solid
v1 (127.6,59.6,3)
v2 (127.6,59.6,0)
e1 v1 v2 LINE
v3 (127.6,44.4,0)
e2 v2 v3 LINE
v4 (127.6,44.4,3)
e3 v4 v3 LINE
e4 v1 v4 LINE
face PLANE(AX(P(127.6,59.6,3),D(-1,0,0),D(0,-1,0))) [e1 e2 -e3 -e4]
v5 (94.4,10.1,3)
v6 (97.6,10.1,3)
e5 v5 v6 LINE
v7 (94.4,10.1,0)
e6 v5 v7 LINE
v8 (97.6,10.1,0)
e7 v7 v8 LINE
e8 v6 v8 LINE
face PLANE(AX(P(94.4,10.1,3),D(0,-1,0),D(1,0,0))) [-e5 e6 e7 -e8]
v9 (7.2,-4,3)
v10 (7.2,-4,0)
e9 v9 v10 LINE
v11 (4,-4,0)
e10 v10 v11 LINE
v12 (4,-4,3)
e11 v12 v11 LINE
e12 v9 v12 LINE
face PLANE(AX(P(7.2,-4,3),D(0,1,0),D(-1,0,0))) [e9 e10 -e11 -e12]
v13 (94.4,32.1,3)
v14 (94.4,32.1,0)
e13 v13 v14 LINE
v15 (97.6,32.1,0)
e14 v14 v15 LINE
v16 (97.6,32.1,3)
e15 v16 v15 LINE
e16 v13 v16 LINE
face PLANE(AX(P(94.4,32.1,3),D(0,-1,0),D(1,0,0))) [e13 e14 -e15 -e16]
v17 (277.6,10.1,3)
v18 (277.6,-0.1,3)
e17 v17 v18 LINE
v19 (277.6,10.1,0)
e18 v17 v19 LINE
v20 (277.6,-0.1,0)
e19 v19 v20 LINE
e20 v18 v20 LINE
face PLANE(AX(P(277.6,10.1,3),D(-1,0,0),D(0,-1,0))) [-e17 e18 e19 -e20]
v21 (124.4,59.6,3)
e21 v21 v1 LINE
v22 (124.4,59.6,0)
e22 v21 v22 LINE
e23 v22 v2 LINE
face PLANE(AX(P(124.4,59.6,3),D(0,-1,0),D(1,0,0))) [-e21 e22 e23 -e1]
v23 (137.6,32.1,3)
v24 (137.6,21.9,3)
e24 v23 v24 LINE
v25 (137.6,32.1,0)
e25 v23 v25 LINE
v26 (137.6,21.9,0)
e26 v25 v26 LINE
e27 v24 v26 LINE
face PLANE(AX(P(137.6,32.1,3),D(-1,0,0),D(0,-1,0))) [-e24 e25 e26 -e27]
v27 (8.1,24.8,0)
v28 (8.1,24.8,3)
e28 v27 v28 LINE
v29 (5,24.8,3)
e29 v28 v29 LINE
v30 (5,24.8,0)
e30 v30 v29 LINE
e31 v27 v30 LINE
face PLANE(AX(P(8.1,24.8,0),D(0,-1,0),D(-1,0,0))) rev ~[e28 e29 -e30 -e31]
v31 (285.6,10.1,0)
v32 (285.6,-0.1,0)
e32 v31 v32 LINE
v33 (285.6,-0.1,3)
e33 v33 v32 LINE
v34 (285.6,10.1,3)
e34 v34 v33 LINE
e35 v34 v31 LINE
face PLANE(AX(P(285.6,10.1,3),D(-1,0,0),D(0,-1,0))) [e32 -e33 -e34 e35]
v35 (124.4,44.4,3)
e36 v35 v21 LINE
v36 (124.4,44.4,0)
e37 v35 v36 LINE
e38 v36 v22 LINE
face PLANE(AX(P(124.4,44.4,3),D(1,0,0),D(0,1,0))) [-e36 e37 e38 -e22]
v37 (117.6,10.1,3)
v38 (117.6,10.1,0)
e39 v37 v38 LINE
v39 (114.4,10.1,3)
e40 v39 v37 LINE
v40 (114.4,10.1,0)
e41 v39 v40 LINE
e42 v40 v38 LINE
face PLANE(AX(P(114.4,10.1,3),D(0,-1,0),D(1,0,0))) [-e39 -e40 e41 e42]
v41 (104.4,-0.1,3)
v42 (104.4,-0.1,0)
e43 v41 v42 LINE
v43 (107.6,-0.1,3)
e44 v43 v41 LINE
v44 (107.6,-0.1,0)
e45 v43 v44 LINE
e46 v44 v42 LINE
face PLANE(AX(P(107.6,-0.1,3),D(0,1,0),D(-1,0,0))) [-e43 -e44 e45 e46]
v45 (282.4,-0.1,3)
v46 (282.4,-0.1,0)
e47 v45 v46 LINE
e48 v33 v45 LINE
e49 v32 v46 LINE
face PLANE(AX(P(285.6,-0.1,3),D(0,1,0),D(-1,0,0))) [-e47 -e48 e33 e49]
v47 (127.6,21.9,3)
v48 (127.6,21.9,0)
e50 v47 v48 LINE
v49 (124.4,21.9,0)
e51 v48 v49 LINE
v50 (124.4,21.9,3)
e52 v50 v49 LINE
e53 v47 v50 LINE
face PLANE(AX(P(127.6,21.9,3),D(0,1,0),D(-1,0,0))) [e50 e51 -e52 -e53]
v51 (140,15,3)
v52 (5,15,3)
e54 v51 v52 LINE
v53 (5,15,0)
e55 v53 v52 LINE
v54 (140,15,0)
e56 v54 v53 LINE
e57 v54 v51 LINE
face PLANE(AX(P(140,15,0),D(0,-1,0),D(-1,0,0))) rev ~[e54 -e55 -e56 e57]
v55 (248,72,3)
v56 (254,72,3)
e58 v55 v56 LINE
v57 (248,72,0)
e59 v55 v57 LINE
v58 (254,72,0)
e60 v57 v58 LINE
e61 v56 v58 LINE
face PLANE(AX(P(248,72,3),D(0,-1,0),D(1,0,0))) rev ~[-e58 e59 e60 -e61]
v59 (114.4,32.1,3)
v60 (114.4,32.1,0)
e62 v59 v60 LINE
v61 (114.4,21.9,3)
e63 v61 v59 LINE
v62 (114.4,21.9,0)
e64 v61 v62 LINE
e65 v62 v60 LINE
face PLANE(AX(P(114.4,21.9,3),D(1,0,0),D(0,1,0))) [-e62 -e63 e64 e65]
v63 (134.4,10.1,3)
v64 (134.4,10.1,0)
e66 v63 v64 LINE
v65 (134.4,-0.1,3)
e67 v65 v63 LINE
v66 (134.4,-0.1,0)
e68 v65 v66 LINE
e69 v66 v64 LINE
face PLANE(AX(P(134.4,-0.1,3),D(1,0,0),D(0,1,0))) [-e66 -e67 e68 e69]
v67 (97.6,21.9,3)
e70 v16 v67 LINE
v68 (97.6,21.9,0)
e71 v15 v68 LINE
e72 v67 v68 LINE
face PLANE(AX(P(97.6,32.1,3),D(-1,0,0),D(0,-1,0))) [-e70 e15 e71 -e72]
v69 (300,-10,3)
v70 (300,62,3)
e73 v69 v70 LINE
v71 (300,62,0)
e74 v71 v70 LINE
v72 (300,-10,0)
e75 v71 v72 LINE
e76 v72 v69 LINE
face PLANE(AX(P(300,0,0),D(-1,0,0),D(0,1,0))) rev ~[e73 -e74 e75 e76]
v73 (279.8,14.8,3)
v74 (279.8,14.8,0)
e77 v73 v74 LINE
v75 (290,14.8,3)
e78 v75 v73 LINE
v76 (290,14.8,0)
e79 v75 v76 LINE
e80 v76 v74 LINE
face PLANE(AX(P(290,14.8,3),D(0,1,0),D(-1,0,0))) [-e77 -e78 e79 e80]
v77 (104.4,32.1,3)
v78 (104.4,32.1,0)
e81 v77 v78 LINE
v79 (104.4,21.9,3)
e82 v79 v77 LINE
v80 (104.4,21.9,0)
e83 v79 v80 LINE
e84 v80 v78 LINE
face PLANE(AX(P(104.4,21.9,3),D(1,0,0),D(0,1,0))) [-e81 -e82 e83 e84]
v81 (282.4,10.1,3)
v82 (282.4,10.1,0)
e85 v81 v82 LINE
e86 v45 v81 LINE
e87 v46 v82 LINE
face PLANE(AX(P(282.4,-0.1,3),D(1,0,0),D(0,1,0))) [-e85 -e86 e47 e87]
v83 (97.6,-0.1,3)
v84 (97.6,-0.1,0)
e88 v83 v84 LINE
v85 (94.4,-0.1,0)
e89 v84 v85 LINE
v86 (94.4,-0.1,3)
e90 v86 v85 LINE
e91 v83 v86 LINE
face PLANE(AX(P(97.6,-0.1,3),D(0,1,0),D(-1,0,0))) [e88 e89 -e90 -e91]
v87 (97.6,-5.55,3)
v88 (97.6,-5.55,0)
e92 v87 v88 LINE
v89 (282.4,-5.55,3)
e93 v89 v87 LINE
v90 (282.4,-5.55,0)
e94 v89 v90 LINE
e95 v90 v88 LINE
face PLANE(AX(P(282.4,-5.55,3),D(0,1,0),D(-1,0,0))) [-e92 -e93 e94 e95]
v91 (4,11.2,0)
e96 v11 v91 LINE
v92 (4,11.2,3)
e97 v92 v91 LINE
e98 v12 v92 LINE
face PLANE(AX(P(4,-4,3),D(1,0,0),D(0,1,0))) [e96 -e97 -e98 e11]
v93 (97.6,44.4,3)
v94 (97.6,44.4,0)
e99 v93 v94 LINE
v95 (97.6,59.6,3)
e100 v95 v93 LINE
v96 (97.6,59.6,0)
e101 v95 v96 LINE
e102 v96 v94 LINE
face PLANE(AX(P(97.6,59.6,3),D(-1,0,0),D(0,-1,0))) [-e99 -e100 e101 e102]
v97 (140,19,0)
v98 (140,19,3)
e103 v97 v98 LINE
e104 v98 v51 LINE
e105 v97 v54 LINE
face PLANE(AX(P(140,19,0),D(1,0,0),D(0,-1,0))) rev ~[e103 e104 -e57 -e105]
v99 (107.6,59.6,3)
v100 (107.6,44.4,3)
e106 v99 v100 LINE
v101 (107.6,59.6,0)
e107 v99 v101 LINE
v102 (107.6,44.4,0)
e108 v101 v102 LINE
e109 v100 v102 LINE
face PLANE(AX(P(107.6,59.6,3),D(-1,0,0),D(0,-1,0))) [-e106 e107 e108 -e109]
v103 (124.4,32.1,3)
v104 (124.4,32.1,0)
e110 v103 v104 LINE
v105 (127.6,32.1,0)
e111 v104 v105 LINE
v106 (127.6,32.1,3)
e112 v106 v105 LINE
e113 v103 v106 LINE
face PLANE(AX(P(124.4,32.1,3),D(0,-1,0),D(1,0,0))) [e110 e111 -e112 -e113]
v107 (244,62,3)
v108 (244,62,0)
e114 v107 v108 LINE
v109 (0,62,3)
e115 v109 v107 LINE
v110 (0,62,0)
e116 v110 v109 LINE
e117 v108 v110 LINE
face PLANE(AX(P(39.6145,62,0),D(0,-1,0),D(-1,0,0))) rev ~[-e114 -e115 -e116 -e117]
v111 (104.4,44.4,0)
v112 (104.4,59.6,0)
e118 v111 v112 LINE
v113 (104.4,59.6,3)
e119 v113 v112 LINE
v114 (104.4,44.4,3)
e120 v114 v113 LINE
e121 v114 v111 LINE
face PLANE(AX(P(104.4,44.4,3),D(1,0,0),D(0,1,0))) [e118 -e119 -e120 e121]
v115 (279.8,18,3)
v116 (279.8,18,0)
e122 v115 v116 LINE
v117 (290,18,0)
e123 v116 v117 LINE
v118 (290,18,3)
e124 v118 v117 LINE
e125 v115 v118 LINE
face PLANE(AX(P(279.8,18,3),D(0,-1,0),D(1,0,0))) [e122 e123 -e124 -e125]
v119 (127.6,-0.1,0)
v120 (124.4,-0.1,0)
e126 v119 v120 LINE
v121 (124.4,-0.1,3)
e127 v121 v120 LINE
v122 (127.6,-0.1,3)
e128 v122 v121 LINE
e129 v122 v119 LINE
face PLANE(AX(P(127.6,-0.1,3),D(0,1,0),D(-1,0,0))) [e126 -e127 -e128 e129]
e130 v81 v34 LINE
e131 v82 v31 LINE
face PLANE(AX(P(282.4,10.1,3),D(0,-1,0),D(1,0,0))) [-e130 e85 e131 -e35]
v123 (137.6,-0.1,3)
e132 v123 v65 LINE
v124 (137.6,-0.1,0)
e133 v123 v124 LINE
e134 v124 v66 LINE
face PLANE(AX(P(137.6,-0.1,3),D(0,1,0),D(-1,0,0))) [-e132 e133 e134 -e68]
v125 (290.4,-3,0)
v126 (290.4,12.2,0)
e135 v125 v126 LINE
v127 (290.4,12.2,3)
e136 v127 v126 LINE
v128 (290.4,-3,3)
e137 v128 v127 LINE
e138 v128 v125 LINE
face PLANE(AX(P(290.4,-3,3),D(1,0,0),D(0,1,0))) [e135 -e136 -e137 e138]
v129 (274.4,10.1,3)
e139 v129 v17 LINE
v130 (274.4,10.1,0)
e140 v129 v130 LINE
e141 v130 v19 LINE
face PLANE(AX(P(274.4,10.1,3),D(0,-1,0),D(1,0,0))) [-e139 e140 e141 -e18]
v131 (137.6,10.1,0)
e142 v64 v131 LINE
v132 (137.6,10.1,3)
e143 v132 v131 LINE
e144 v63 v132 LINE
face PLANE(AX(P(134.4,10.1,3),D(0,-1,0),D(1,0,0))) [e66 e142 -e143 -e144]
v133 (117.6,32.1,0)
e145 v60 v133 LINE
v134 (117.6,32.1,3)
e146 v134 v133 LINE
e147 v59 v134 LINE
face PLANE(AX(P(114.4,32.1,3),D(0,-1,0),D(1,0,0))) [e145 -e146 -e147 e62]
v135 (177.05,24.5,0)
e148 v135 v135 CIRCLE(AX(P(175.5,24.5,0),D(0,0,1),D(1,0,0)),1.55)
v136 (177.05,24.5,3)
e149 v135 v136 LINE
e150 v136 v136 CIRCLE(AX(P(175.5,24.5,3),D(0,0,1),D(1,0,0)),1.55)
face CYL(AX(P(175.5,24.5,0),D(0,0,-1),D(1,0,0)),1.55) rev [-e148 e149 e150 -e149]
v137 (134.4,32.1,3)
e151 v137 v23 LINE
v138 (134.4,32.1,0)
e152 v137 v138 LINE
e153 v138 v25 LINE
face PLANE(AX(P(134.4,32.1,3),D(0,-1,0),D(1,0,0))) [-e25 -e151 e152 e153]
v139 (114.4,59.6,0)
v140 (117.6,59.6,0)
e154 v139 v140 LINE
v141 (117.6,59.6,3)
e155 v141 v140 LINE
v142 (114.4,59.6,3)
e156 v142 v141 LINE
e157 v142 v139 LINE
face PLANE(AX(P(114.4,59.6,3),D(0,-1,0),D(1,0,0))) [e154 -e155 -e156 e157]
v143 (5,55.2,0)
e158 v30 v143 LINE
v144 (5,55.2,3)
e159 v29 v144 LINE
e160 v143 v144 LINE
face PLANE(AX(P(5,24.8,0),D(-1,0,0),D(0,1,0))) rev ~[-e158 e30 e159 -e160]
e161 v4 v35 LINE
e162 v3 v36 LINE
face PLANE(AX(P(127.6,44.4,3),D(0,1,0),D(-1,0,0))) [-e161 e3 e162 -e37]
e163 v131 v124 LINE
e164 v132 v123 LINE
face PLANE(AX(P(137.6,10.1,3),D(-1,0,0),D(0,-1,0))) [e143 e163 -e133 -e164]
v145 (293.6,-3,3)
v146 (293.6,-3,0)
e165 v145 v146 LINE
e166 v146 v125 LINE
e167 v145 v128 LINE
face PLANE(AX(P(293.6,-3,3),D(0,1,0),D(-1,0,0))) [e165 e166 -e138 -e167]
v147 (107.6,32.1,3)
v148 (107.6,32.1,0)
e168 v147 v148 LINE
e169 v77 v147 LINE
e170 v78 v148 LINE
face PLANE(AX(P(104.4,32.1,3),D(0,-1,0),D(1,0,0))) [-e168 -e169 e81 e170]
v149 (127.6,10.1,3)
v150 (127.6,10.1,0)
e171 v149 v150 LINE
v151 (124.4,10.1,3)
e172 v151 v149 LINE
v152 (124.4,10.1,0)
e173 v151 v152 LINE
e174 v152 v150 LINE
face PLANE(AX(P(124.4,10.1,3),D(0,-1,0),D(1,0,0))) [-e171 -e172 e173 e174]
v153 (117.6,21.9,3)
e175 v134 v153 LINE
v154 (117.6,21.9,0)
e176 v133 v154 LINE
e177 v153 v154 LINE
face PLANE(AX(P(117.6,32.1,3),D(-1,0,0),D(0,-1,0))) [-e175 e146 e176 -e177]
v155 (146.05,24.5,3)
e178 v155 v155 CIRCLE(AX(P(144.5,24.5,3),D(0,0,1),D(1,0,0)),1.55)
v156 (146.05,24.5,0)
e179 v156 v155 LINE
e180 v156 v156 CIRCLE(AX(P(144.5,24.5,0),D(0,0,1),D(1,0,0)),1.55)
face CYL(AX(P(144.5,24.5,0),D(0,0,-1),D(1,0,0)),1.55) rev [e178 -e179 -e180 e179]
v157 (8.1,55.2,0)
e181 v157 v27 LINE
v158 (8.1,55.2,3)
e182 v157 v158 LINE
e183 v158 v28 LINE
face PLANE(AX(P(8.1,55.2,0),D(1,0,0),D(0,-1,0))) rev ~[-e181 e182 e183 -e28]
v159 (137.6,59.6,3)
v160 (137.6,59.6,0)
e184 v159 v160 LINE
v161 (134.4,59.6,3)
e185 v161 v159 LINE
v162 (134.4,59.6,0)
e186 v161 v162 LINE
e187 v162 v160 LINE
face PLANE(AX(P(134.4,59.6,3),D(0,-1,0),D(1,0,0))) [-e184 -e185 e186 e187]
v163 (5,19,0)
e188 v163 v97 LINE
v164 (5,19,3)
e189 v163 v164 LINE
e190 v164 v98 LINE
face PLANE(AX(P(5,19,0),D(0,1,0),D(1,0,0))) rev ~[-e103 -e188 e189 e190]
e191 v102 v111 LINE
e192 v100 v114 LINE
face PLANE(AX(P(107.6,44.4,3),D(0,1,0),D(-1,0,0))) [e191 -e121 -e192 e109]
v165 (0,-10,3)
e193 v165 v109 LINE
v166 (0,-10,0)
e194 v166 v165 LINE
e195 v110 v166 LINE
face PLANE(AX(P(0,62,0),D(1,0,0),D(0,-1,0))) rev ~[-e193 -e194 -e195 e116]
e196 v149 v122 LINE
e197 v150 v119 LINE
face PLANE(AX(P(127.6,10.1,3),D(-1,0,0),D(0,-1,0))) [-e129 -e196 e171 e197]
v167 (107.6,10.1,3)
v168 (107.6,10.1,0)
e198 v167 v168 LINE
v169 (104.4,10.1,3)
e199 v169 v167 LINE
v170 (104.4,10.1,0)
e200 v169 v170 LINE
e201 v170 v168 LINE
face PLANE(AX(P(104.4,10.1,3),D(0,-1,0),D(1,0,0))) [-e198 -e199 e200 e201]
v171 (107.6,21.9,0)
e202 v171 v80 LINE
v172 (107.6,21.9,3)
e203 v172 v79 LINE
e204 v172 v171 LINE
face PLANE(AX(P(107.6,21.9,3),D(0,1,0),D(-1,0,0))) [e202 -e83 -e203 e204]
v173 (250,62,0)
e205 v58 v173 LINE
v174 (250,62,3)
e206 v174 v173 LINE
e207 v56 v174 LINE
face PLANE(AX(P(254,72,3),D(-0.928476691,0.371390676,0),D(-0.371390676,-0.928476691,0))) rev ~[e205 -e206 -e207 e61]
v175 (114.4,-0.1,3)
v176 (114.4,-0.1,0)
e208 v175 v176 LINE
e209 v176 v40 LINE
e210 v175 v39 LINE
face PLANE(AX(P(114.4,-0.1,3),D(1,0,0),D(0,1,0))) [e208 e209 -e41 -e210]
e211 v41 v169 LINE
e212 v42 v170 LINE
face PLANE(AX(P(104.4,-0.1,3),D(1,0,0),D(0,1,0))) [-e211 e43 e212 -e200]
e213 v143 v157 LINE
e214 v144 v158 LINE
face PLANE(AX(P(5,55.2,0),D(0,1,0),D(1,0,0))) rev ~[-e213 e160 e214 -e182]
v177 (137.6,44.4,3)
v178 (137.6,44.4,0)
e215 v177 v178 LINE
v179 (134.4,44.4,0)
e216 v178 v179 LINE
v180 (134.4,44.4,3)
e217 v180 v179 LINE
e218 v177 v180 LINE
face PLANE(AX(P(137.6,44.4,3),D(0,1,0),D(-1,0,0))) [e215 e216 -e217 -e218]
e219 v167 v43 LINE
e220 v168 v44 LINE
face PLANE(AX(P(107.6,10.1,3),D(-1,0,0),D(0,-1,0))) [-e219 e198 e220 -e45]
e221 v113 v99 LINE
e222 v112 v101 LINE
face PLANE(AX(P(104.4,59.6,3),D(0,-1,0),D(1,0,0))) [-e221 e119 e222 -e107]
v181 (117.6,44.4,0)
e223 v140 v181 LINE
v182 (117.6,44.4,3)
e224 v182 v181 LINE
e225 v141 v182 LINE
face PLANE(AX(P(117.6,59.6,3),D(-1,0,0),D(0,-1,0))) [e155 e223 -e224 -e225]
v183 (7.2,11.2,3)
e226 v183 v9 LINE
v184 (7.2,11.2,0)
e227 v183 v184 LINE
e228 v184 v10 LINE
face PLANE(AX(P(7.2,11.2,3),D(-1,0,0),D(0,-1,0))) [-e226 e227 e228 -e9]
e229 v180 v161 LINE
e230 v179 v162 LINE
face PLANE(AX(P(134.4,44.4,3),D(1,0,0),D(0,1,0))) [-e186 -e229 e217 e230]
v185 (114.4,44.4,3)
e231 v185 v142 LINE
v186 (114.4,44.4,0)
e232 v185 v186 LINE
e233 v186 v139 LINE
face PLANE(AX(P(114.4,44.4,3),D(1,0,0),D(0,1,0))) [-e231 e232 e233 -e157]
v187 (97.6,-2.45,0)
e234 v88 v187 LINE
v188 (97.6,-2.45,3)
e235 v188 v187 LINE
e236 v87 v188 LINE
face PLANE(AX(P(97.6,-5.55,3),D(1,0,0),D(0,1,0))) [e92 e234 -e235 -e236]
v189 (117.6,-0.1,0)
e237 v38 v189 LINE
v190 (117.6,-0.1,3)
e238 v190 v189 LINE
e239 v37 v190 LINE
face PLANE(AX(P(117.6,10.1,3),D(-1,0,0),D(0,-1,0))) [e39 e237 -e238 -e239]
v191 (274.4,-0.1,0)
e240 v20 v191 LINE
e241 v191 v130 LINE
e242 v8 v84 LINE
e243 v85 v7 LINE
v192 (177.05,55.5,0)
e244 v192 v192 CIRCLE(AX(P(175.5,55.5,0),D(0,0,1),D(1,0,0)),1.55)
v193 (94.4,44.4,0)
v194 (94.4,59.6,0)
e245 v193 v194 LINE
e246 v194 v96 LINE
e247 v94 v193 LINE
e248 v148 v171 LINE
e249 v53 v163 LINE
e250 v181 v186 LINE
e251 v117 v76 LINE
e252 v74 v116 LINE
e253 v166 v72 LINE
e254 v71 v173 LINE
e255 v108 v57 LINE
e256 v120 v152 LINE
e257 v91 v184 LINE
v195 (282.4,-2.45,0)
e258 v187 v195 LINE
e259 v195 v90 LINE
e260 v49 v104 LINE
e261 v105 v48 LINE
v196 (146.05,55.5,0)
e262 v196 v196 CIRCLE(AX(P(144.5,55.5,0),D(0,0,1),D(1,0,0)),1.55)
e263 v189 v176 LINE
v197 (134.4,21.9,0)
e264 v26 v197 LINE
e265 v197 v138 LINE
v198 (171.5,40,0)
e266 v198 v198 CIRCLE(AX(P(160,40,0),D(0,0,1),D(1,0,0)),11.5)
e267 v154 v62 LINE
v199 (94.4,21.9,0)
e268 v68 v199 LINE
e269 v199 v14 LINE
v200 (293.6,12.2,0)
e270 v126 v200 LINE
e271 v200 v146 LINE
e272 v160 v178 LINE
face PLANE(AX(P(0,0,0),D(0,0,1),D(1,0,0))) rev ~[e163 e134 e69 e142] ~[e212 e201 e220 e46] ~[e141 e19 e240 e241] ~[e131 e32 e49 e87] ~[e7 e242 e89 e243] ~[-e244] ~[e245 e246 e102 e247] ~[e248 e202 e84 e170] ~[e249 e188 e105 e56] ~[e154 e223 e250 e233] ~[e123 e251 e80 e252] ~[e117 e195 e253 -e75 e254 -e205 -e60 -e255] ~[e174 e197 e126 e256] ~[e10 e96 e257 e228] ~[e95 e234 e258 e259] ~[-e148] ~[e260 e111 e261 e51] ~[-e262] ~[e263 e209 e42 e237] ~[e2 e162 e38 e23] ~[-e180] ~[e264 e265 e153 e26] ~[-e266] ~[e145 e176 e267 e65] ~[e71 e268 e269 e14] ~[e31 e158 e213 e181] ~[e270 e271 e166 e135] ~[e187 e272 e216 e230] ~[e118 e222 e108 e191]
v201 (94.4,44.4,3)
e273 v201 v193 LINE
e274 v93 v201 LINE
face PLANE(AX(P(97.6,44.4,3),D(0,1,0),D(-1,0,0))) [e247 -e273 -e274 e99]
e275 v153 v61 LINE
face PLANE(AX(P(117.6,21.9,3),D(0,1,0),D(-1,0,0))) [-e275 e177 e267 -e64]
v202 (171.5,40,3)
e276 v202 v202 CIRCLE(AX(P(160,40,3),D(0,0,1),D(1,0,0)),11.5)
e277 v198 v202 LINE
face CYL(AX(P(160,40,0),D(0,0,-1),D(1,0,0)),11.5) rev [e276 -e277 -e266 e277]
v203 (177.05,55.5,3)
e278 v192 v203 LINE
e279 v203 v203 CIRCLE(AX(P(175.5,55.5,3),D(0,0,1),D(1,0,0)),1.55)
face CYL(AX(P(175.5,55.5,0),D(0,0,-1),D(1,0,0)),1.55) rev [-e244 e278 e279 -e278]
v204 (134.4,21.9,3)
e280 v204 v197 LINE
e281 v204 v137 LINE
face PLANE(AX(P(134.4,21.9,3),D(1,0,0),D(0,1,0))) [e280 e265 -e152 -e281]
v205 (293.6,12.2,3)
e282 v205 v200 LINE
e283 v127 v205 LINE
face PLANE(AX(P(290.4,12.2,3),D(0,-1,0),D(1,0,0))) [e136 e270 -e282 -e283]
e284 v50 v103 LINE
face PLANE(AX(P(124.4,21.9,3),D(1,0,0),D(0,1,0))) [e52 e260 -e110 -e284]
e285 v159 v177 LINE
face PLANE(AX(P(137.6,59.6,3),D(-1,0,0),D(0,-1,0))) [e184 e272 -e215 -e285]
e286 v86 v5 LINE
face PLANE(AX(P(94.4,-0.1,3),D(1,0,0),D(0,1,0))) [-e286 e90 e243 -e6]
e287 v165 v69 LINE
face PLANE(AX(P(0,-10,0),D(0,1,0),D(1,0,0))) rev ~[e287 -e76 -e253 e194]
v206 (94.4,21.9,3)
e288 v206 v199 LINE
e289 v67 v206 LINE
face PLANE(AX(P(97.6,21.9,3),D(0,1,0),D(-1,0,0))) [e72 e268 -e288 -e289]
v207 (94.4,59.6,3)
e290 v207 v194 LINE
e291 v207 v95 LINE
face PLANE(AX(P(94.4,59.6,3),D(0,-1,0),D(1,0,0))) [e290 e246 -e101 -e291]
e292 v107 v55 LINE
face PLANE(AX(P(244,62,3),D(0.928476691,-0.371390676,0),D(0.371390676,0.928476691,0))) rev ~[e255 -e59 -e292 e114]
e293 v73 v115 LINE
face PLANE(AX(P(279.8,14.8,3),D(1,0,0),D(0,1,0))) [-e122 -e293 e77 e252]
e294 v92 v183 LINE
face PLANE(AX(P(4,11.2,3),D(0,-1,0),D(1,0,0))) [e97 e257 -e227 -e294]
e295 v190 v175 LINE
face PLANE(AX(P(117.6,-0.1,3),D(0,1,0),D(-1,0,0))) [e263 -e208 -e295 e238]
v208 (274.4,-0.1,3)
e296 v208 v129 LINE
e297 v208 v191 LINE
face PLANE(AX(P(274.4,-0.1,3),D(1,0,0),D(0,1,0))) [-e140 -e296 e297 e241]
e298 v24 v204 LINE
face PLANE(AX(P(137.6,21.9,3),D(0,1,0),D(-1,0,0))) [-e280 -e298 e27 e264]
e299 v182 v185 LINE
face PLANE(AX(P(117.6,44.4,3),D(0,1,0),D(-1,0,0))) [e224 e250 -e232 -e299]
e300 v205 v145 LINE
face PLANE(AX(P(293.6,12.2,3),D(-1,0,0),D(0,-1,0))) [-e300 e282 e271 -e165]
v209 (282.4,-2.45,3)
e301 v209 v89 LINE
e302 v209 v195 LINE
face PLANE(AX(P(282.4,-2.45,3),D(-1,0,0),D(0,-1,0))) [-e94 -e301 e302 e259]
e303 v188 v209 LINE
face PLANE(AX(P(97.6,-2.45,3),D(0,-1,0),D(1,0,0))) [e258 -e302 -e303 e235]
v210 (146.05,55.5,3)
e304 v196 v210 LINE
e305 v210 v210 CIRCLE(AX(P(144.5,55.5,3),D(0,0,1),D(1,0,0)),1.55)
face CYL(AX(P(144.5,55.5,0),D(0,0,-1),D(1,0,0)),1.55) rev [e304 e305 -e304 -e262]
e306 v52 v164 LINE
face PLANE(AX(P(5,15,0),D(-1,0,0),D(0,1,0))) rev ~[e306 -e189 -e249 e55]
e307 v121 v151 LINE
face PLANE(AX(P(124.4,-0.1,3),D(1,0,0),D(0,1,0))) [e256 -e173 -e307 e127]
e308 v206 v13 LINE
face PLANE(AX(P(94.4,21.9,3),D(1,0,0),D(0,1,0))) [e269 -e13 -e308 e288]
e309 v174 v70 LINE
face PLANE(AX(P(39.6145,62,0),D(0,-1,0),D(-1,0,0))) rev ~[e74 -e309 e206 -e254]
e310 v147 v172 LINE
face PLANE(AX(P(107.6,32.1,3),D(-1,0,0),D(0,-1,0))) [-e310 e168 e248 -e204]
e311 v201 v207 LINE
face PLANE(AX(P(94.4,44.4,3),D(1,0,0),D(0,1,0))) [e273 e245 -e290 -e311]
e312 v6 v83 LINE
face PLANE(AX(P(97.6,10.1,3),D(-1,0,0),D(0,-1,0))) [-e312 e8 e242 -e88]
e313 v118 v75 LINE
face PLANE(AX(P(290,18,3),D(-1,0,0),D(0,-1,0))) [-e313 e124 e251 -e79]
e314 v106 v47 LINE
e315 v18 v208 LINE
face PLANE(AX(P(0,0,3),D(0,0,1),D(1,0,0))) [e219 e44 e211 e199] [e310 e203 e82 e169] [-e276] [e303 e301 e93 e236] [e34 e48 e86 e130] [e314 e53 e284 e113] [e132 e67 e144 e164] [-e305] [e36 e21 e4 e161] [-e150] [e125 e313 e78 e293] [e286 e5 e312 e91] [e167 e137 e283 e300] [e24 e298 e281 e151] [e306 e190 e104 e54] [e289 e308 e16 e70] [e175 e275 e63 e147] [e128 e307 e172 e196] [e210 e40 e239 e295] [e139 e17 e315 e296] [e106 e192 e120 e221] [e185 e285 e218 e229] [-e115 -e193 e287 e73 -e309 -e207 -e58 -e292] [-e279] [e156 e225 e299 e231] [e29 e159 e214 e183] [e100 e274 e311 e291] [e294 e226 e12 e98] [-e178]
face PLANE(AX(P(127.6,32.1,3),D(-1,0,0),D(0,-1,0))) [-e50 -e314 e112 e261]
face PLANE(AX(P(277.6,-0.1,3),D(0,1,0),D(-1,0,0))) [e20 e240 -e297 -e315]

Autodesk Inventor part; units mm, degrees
ref_plane "YZ Plane" through (0, 0, 0) normal (1, 0, 0) x (0, 1, 0)
ref_plane "XZ Plane" through (0, 0, 0) normal (0, 1, 0) x (-1, 0, 0)
ref_plane "XY Plane" through (0, 0, 0) normal (0, 0, 1) x (1, 0, 0)
sketch "Sketch1" plane through (0, 0, 0) normal (0, 0, 1) x (1, 0, 0)
  line L0 (0, 0) -> (300, 0)
  line L1 (300, 0) -> (300, 62)
  line L2 (300, 62) -> (0, 62)
  line L3 (0, 62) -> (0, 0)
  circle A0 centre (144.5, 55.5) radius 1.55
  circle A1 centre (144.5, 24.5) radius 1.55
  circle A2 centre (175.5, 55.5) radius 1.55
  circle A3 centre (175.5, 24.5) radius 1.55
  circle A4 centre (160, 40) radius 11.5
  line L4 (5, 19) -> (140, 19)
  line L5 (140, 19) -> (140, 15)
  line L6 (140, 15) -> (5, 15)
  line L7 (5, 15) -> (5, 19)
  line L8 (0, 62) -> (39.6145, 62)
  line L9 (8.1, 24.8) -> (5, 24.8)
  line L10 (5, 24.8) -> (5, 55.2)
  line L11 (5, 55.2) -> (8.1, 55.2)
  line L12 (8.1, 55.2) -> (8.1, 24.8)
  line L13 (8.1, 24.8) -> (5, 55.2) construction
  line L14 (5, 24.8) -> (8.1, 55.2) construction
  line L15 (0, 62) -> (50, 62)
  line L16 (0, 0) -> (0, -10)
  line L17 (0, -10) -> (300, -10)
  line L18 (300, -10) -> (300, 0)
  point P0 (6.55, 40)
  point P1 (5, 40)
  point P2 (8.1, 40)
  point P3 (5, 17)
  point P4 (140, 17)
  dimension "d1" = 3.1
  dimension "d2" = 3.1
  dimension "d3" = 3.1
  dimension "d4" = 3.1
  dimension "d5" = 31
  dimension "d7" = 23
  dimension "d8" = 15.5
  dimension "d9" = 15.5
  dimension "d10" = 62
  dimension "d11" = 31
  dimension "d13" = 40
  dimension "d54" = 300
  dimension "d55" = 3.1
  dimension "d56" = 5
  dimension "d57" = 15.2
  dimension "d59" = 135
  dimension "d93" = 15
  dimension "d106" = 20
  dimension "d107" = 5
  dimension "d201" = 4
  dimension "d202" = 10
extrude "Extrusion1" add sketch "Sketch1" along normal blind 3
sketch "Sketch4" plane through (0, 0, 3) normal (0, 0, 1) x (1, 0, 0)
  line L0 (300, 62) -> (0, 62) projected
  line L1 (244, 62) -> (248, 72)
  line L2 (248, 72) -> (254, 72)
  line L3 (254, 72) -> (250, 62)
  line L4 (0, -10) -> (300, -10) projected
  point P0 (0, 0)
  dimension "d108" = 10
  dimension "d109" = 4
  dimension "d110" = 50
  dimension "d111" = 6
extrude "Extrusion4" add sketch "Sketch4" against normal blind 3
sketch "Sketch7" plane through (0, 0, 3) normal (0, 0, 1) x (1, 0, 0)
  line L0 (134.4, 59.6) -> (137.6, 59.6)
  line L1 (137.6, 59.6) -> (137.6, 44.4)
  line L2 (137.6, 44.4) -> (134.4, 44.4)
  line L3 (134.4, 44.4) -> (134.4, 59.6)
  line L4 (134.4, 59.6) -> (137.6, 44.4) construction
  line L5 (137.6, 59.6) -> (134.4, 44.4) construction
  line L6 (134.4, 32.1) -> (137.6, 32.1)
  line L7 (137.6, 32.1) -> (137.6, 21.9)
  line L8 (137.6, 21.9) -> (134.4, 21.9)
  line L9 (134.4, 21.9) -> (134.4, 32.1)
  line L10 (134.4, 32.1) -> (137.6, 21.9) construction
  line L11 (137.6, 32.1) -> (134.4, 21.9) construction
  line L12 (244, 62) -> (0, 62) projected
  circle A0 centre (144.5, 55.5) radius 1.55 projected
  line L13 (124.4, 59.6) -> (127.6, 59.6)
  line L14 (127.6, 59.6) -> (127.6, 44.4)
  line L15 (127.6, 44.4) -> (124.4, 44.4)
  line L16 (124.4, 44.4) -> (124.4, 59.6)
  line L17 (124.4, 59.6) -> (127.6, 44.4) construction
  line L18 (127.6, 59.6) -> (124.4, 44.4) construction
  line L19 (124.4, 32.1) -> (127.6, 32.1)
  line L20 (127.6, 32.1) -> (127.6, 21.9)
  line L21 (127.6, 21.9) -> (124.4, 21.9)
  line L22 (124.4, 21.9) -> (124.4, 32.1)
  line L23 (124.4, 32.1) -> (127.6, 21.9) construction
  line L24 (127.6, 32.1) -> (124.4, 21.9) construction
  line L25 (114.4, 59.6) -> (117.6, 59.6)
  line L26 (117.6, 59.6) -> (117.6, 44.4)
  line L27 (117.6, 44.4) -> (114.4, 44.4)
  line L28 (114.4, 44.4) -> (114.4, 59.6)
  line L29 (114.4, 59.6) -> (117.6, 44.4) construction
  line L30 (117.6, 59.6) -> (114.4, 44.4) construction
  line L31 (114.4, 32.1) -> (117.6, 32.1)
  line L32 (117.6, 32.1) -> (117.6, 21.9)
  line L33 (117.6, 21.9) -> (114.4, 21.9)
  line L34 (114.4, 21.9) -> (114.4, 32.1)
  line L35 (114.4, 32.1) -> (117.6, 21.9) construction
  line L36 (117.6, 32.1) -> (114.4, 21.9) construction
  line L37 (104.4, 59.6) -> (107.6, 59.6)
  line L38 (107.6, 59.6) -> (107.6, 44.4)
  line L39 (107.6, 44.4) -> (104.4, 44.4)
  line L40 (104.4, 44.4) -> (104.4, 59.6)
  line L41 (104.4, 59.6) -> (107.6, 44.4) construction
  line L42 (107.6, 59.6) -> (104.4, 44.4) construction
  line L43 (104.4, 32.1) -> (107.6, 32.1)
  line L44 (107.6, 32.1) -> (107.6, 21.9)
  line L45 (107.6, 21.9) -> (104.4, 21.9)
  line L46 (104.4, 21.9) -> (104.4, 32.1)
  line L47 (104.4, 32.1) -> (107.6, 21.9) construction
  line L48 (107.6, 32.1) -> (104.4, 21.9) construction
  line L49 (94.4, 59.6) -> (97.6, 59.6)
  line L50 (97.6, 59.6) -> (97.6, 44.4)
  line L51 (97.6, 44.4) -> (94.4, 44.4)
  line L52 (94.4, 44.4) -> (94.4, 59.6)
  line L53 (94.4, 59.6) -> (97.6, 44.4) construction
  line L54 (97.6, 59.6) -> (94.4, 44.4) construction
  line L55 (94.4, 32.1) -> (97.6, 32.1)
  line L56 (97.6, 32.1) -> (97.6, 21.9)
  line L57 (97.6, 21.9) -> (94.4, 21.9)
  line L58 (94.4, 21.9) -> (94.4, 32.1)
  line L59 (94.4, 32.1) -> (97.6, 21.9) construction
  line L60 (97.6, 32.1) -> (94.4, 21.9) construction
  line L61 (134.4, 10.1) -> (137.6, 10.1)
  line L62 (137.6, 10.1) -> (137.6, -0.1)
  line L63 (137.6, -0.1) -> (134.4, -0.1)
  line L64 (134.4, -0.1) -> (134.4, 10.1)
  line L65 (134.4, 10.1) -> (137.6, -0.1) construction
  line L66 (137.6, 10.1) -> (134.4, -0.1) construction
  line L67 (127.6, 10.1) -> (127.6, -0.1)
  line L68 (127.6, -0.1) -> (124.4, -0.1)
  line L69 (124.4, 10.1) -> (127.6, 10.1)
  line L70 (124.4, -0.1) -> (124.4, 10.1)
  line L71 (124.4, 10.1) -> (127.6, -0.1) construction
  line L72 (127.6, 10.1) -> (124.4, -0.1) construction
  line L73 (117.6, 10.1) -> (117.6, -0.1)
  line L74 (117.6, -0.1) -> (114.4, -0.1)
  line L75 (114.4, 10.1) -> (117.6, 10.1)
  line L76 (114.4, -0.1) -> (114.4, 10.1)
  line L77 (114.4, 10.1) -> (117.6, -0.1) construction
  line L78 (117.6, 10.1) -> (114.4, -0.1) construction
  line L79 (107.6, 10.1) -> (107.6, -0.1)
  line L80 (107.6, -0.1) -> (104.4, -0.1)
  line L81 (104.4, 10.1) -> (107.6, 10.1)
  line L82 (104.4, -0.1) -> (104.4, 10.1)
  line L83 (104.4, 10.1) -> (107.6, -0.1) construction
  line L84 (107.6, 10.1) -> (104.4, -0.1) construction
  line L85 (97.6, 10.1) -> (97.6, -0.1)
  line L86 (97.6, -0.1) -> (94.4, -0.1)
  line L87 (94.4, 10.1) -> (97.6, 10.1)
  line L88 (94.4, -0.1) -> (94.4, 10.1)
  line L89 (94.4, 10.1) -> (97.6, -0.1) construction
  line L90 (97.6, 10.1) -> (94.4, -0.1) construction
  line L91 (0, -10) -> (300, -10) projected
  line L92 (300, -10) -> (300, 62) projected
  point P0 (0, 0)
  point P1 (136, 52)
  point P2 (136, 27)
  point P3 (126, 52)
  point P4 (126, 27)
  point P5 (116, 52)
  point P6 (116, 27)
  point P7 (106, 52)
  point P8 (106, 27)
  point P9 (96, 52)
  point P10 (96, 27)
  point P11 (134.4, 52)
  point P12 (114.4, 52)
  point P13 (136, 5)
  point P14 (126, 5)
  point P15 (116, 5)
  point P16 (106, 5)
  point P17 (96, 5)
  point P18 (134.4, 5)
  point P19 (114.4, 5)
  point P20 (150, -10)
  dimension "d147" = 3.2
  dimension "d148" = 15.2
  dimension "d149" = 10.2
  dimension "d150" = 25
  dimension "d151" = 10
  dimension "d153" = 3.2
  dimension "d154" = 15.2
  dimension "d155" = 10.2
  dimension "d156" = 25
  dimension "d157" = 3.2
  dimension "d158" = 15.2
  dimension "d159" = 10.2
  dimension "d160" = 25
  dimension "d161" = 3.2
  dimension "d162" = 15.2
  dimension "d163" = 10.2
  dimension "d164" = 25
  dimension "d165" = 3.2
  dimension "d166" = 15.2
  dimension "d167" = 10.2
  dimension "d168" = 25
  dimension "d169" = 10
  dimension "d170" = 10
  dimension "d171" = 10
  dimension "d172" = 10
  dimension "d181" = 3.2
  dimension "d183" = 3.2
  dimension "d185" = 3.2
  dimension "d187" = 3.2
  dimension "d189" = 3.2
  dimension "d191" = 10
  dimension "d192" = 10
  dimension "d193" = 10
  dimension "d194" = 10
  dimension "d234" = 15
  dimension "d235" = 10.2
  dimension "d245" = 164
extrude "Extrusion6" cut sketch "Sketch7" against normal blind 3 contours L0 L1 L2 L3 | L6 L7 L8 L9 | L13 L14 L15 L16 | L19 L20 L21 L22 | L25 L26 L27 L28 | L31 L32 L33 L34 | L37 L38 L39 L40 | L43 L44 L45 L46 | L49 L50 L51 L52 | L55 L56 L57 L58 | L61 L62 L63 L64 | L67 L68 L70 L69 | L73 L74 L76 L75 | L79 L80 L82 L81 | L85 L86 L88 L87
sketch "Sketch8" plane through (0, 0, 3) normal (0, 0, 1) x (1, 0, 0)
  line L0 (0, -10) -> (300, -10) projected
  line L1 (279.8, 18) -> (290, 18)
  line L2 (290, 18) -> (290, 14.8)
  line L3 (290, 14.8) -> (279.8, 14.8)
  line L4 (279.8, 14.8) -> (279.8, 18)
  line L5 (300, -10) -> (300, 62) projected
  line L6 (4, 11.2) -> (7.2, 11.2)
  line L7 (7.2, 11.2) -> (7.2, -4)
  line L8 (7.2, -4) -> (4, -4)
  line L9 (4, -4) -> (4, 11.2)
  line L10 (4, 11.2) -> (7.2, -4) construction
  line L11 (7.2, 11.2) -> (4, -4) construction
  line L12 (282.4, 10.1) -> (285.6, 10.1)
  line L13 (285.6, 10.1) -> (285.6, -0.1)
  line L14 (285.6, -0.1) -> (282.4, -0.1)
  line L15 (282.4, -0.1) -> (282.4, 10.1)
  line L16 (282.4, 10.1) -> (285.6, -0.1) construction
  line L17 (285.6, 10.1) -> (282.4, -0.1) construction
  line L18 (274.4, 10.1) -> (277.6, 10.1)
  line L19 (277.6, 10.1) -> (277.6, -0.1)
  line L20 (277.6, -0.1) -> (274.4, -0.1)
  line L21 (274.4, -0.1) -> (274.4, 10.1)
  line L22 (274.4, 10.1) -> (277.6, -0.1) construction
  line L23 (277.6, 10.1) -> (274.4, -0.1) construction
  line L24 (97.6, -2.45) -> (282.4, -2.45)
  line L25 (282.4, -2.45) -> (282.4, -5.55)
  line L26 (282.4, -5.55) -> (97.6, -5.55)
  line L27 (97.6, -5.55) -> (97.6, -2.45)
  line L28 (97.6, -2.45) -> (282.4, -5.55) construction
  line L29 (282.4, -2.45) -> (97.6, -5.55) construction
  line L30 (137.6, 10.1) -> (137.6, -0.1) projected
  line L31 (290.4, 12.2) -> (293.6, 12.2)
  line L32 (293.6, 12.2) -> (293.6, -3)
  line L33 (293.6, -3) -> (290.4, -3)
  line L34 (290.4, -3) -> (290.4, 12.2)
  line L35 (290.4, 12.2) -> (293.6, -3) construction
  line L36 (293.6, 12.2) -> (290.4, -3) construction
  point P0 (0, 0)
  point P1 (5.6, 3.6)
  point P2 (4, 3.6)
  point P3 (284, 5)
  point P4 (282.4, 5)
  point P5 (276, 5)
  point P6 (274.4, 5)
  point P7 (190, -4)
  point P8 (137.6, 5)
  point P9 (97.6, -0.1)
  point P10 (292, 4.6)
  dimension "d219" = 28
  dimension "d220" = 3.2
  dimension "d221" = 10.2
  dimension "d222" = 10
  dimension "d223" = 3.2
  dimension "d224" = 15.2
  dimension "d225" = 4
  dimension "d226" = 6
  dimension "d227" = 3.2
  dimension "d229" = 3.2
  dimension "d232" = 8
  dimension "d233" = 15
  dimension "d236" = 3.1
  dimension "d237" = 9
  dimension "d238" = 10.2
  dimension "d240" = 3.2
  dimension "d241" = 15.2
  dimension "d242" = 7
  dimension "d243" = 16
  dimension "d244" = 8
extrude "Extrusion7" cut sketch "Sketch8" against normal blind 3
properties part number "Sideboard"
